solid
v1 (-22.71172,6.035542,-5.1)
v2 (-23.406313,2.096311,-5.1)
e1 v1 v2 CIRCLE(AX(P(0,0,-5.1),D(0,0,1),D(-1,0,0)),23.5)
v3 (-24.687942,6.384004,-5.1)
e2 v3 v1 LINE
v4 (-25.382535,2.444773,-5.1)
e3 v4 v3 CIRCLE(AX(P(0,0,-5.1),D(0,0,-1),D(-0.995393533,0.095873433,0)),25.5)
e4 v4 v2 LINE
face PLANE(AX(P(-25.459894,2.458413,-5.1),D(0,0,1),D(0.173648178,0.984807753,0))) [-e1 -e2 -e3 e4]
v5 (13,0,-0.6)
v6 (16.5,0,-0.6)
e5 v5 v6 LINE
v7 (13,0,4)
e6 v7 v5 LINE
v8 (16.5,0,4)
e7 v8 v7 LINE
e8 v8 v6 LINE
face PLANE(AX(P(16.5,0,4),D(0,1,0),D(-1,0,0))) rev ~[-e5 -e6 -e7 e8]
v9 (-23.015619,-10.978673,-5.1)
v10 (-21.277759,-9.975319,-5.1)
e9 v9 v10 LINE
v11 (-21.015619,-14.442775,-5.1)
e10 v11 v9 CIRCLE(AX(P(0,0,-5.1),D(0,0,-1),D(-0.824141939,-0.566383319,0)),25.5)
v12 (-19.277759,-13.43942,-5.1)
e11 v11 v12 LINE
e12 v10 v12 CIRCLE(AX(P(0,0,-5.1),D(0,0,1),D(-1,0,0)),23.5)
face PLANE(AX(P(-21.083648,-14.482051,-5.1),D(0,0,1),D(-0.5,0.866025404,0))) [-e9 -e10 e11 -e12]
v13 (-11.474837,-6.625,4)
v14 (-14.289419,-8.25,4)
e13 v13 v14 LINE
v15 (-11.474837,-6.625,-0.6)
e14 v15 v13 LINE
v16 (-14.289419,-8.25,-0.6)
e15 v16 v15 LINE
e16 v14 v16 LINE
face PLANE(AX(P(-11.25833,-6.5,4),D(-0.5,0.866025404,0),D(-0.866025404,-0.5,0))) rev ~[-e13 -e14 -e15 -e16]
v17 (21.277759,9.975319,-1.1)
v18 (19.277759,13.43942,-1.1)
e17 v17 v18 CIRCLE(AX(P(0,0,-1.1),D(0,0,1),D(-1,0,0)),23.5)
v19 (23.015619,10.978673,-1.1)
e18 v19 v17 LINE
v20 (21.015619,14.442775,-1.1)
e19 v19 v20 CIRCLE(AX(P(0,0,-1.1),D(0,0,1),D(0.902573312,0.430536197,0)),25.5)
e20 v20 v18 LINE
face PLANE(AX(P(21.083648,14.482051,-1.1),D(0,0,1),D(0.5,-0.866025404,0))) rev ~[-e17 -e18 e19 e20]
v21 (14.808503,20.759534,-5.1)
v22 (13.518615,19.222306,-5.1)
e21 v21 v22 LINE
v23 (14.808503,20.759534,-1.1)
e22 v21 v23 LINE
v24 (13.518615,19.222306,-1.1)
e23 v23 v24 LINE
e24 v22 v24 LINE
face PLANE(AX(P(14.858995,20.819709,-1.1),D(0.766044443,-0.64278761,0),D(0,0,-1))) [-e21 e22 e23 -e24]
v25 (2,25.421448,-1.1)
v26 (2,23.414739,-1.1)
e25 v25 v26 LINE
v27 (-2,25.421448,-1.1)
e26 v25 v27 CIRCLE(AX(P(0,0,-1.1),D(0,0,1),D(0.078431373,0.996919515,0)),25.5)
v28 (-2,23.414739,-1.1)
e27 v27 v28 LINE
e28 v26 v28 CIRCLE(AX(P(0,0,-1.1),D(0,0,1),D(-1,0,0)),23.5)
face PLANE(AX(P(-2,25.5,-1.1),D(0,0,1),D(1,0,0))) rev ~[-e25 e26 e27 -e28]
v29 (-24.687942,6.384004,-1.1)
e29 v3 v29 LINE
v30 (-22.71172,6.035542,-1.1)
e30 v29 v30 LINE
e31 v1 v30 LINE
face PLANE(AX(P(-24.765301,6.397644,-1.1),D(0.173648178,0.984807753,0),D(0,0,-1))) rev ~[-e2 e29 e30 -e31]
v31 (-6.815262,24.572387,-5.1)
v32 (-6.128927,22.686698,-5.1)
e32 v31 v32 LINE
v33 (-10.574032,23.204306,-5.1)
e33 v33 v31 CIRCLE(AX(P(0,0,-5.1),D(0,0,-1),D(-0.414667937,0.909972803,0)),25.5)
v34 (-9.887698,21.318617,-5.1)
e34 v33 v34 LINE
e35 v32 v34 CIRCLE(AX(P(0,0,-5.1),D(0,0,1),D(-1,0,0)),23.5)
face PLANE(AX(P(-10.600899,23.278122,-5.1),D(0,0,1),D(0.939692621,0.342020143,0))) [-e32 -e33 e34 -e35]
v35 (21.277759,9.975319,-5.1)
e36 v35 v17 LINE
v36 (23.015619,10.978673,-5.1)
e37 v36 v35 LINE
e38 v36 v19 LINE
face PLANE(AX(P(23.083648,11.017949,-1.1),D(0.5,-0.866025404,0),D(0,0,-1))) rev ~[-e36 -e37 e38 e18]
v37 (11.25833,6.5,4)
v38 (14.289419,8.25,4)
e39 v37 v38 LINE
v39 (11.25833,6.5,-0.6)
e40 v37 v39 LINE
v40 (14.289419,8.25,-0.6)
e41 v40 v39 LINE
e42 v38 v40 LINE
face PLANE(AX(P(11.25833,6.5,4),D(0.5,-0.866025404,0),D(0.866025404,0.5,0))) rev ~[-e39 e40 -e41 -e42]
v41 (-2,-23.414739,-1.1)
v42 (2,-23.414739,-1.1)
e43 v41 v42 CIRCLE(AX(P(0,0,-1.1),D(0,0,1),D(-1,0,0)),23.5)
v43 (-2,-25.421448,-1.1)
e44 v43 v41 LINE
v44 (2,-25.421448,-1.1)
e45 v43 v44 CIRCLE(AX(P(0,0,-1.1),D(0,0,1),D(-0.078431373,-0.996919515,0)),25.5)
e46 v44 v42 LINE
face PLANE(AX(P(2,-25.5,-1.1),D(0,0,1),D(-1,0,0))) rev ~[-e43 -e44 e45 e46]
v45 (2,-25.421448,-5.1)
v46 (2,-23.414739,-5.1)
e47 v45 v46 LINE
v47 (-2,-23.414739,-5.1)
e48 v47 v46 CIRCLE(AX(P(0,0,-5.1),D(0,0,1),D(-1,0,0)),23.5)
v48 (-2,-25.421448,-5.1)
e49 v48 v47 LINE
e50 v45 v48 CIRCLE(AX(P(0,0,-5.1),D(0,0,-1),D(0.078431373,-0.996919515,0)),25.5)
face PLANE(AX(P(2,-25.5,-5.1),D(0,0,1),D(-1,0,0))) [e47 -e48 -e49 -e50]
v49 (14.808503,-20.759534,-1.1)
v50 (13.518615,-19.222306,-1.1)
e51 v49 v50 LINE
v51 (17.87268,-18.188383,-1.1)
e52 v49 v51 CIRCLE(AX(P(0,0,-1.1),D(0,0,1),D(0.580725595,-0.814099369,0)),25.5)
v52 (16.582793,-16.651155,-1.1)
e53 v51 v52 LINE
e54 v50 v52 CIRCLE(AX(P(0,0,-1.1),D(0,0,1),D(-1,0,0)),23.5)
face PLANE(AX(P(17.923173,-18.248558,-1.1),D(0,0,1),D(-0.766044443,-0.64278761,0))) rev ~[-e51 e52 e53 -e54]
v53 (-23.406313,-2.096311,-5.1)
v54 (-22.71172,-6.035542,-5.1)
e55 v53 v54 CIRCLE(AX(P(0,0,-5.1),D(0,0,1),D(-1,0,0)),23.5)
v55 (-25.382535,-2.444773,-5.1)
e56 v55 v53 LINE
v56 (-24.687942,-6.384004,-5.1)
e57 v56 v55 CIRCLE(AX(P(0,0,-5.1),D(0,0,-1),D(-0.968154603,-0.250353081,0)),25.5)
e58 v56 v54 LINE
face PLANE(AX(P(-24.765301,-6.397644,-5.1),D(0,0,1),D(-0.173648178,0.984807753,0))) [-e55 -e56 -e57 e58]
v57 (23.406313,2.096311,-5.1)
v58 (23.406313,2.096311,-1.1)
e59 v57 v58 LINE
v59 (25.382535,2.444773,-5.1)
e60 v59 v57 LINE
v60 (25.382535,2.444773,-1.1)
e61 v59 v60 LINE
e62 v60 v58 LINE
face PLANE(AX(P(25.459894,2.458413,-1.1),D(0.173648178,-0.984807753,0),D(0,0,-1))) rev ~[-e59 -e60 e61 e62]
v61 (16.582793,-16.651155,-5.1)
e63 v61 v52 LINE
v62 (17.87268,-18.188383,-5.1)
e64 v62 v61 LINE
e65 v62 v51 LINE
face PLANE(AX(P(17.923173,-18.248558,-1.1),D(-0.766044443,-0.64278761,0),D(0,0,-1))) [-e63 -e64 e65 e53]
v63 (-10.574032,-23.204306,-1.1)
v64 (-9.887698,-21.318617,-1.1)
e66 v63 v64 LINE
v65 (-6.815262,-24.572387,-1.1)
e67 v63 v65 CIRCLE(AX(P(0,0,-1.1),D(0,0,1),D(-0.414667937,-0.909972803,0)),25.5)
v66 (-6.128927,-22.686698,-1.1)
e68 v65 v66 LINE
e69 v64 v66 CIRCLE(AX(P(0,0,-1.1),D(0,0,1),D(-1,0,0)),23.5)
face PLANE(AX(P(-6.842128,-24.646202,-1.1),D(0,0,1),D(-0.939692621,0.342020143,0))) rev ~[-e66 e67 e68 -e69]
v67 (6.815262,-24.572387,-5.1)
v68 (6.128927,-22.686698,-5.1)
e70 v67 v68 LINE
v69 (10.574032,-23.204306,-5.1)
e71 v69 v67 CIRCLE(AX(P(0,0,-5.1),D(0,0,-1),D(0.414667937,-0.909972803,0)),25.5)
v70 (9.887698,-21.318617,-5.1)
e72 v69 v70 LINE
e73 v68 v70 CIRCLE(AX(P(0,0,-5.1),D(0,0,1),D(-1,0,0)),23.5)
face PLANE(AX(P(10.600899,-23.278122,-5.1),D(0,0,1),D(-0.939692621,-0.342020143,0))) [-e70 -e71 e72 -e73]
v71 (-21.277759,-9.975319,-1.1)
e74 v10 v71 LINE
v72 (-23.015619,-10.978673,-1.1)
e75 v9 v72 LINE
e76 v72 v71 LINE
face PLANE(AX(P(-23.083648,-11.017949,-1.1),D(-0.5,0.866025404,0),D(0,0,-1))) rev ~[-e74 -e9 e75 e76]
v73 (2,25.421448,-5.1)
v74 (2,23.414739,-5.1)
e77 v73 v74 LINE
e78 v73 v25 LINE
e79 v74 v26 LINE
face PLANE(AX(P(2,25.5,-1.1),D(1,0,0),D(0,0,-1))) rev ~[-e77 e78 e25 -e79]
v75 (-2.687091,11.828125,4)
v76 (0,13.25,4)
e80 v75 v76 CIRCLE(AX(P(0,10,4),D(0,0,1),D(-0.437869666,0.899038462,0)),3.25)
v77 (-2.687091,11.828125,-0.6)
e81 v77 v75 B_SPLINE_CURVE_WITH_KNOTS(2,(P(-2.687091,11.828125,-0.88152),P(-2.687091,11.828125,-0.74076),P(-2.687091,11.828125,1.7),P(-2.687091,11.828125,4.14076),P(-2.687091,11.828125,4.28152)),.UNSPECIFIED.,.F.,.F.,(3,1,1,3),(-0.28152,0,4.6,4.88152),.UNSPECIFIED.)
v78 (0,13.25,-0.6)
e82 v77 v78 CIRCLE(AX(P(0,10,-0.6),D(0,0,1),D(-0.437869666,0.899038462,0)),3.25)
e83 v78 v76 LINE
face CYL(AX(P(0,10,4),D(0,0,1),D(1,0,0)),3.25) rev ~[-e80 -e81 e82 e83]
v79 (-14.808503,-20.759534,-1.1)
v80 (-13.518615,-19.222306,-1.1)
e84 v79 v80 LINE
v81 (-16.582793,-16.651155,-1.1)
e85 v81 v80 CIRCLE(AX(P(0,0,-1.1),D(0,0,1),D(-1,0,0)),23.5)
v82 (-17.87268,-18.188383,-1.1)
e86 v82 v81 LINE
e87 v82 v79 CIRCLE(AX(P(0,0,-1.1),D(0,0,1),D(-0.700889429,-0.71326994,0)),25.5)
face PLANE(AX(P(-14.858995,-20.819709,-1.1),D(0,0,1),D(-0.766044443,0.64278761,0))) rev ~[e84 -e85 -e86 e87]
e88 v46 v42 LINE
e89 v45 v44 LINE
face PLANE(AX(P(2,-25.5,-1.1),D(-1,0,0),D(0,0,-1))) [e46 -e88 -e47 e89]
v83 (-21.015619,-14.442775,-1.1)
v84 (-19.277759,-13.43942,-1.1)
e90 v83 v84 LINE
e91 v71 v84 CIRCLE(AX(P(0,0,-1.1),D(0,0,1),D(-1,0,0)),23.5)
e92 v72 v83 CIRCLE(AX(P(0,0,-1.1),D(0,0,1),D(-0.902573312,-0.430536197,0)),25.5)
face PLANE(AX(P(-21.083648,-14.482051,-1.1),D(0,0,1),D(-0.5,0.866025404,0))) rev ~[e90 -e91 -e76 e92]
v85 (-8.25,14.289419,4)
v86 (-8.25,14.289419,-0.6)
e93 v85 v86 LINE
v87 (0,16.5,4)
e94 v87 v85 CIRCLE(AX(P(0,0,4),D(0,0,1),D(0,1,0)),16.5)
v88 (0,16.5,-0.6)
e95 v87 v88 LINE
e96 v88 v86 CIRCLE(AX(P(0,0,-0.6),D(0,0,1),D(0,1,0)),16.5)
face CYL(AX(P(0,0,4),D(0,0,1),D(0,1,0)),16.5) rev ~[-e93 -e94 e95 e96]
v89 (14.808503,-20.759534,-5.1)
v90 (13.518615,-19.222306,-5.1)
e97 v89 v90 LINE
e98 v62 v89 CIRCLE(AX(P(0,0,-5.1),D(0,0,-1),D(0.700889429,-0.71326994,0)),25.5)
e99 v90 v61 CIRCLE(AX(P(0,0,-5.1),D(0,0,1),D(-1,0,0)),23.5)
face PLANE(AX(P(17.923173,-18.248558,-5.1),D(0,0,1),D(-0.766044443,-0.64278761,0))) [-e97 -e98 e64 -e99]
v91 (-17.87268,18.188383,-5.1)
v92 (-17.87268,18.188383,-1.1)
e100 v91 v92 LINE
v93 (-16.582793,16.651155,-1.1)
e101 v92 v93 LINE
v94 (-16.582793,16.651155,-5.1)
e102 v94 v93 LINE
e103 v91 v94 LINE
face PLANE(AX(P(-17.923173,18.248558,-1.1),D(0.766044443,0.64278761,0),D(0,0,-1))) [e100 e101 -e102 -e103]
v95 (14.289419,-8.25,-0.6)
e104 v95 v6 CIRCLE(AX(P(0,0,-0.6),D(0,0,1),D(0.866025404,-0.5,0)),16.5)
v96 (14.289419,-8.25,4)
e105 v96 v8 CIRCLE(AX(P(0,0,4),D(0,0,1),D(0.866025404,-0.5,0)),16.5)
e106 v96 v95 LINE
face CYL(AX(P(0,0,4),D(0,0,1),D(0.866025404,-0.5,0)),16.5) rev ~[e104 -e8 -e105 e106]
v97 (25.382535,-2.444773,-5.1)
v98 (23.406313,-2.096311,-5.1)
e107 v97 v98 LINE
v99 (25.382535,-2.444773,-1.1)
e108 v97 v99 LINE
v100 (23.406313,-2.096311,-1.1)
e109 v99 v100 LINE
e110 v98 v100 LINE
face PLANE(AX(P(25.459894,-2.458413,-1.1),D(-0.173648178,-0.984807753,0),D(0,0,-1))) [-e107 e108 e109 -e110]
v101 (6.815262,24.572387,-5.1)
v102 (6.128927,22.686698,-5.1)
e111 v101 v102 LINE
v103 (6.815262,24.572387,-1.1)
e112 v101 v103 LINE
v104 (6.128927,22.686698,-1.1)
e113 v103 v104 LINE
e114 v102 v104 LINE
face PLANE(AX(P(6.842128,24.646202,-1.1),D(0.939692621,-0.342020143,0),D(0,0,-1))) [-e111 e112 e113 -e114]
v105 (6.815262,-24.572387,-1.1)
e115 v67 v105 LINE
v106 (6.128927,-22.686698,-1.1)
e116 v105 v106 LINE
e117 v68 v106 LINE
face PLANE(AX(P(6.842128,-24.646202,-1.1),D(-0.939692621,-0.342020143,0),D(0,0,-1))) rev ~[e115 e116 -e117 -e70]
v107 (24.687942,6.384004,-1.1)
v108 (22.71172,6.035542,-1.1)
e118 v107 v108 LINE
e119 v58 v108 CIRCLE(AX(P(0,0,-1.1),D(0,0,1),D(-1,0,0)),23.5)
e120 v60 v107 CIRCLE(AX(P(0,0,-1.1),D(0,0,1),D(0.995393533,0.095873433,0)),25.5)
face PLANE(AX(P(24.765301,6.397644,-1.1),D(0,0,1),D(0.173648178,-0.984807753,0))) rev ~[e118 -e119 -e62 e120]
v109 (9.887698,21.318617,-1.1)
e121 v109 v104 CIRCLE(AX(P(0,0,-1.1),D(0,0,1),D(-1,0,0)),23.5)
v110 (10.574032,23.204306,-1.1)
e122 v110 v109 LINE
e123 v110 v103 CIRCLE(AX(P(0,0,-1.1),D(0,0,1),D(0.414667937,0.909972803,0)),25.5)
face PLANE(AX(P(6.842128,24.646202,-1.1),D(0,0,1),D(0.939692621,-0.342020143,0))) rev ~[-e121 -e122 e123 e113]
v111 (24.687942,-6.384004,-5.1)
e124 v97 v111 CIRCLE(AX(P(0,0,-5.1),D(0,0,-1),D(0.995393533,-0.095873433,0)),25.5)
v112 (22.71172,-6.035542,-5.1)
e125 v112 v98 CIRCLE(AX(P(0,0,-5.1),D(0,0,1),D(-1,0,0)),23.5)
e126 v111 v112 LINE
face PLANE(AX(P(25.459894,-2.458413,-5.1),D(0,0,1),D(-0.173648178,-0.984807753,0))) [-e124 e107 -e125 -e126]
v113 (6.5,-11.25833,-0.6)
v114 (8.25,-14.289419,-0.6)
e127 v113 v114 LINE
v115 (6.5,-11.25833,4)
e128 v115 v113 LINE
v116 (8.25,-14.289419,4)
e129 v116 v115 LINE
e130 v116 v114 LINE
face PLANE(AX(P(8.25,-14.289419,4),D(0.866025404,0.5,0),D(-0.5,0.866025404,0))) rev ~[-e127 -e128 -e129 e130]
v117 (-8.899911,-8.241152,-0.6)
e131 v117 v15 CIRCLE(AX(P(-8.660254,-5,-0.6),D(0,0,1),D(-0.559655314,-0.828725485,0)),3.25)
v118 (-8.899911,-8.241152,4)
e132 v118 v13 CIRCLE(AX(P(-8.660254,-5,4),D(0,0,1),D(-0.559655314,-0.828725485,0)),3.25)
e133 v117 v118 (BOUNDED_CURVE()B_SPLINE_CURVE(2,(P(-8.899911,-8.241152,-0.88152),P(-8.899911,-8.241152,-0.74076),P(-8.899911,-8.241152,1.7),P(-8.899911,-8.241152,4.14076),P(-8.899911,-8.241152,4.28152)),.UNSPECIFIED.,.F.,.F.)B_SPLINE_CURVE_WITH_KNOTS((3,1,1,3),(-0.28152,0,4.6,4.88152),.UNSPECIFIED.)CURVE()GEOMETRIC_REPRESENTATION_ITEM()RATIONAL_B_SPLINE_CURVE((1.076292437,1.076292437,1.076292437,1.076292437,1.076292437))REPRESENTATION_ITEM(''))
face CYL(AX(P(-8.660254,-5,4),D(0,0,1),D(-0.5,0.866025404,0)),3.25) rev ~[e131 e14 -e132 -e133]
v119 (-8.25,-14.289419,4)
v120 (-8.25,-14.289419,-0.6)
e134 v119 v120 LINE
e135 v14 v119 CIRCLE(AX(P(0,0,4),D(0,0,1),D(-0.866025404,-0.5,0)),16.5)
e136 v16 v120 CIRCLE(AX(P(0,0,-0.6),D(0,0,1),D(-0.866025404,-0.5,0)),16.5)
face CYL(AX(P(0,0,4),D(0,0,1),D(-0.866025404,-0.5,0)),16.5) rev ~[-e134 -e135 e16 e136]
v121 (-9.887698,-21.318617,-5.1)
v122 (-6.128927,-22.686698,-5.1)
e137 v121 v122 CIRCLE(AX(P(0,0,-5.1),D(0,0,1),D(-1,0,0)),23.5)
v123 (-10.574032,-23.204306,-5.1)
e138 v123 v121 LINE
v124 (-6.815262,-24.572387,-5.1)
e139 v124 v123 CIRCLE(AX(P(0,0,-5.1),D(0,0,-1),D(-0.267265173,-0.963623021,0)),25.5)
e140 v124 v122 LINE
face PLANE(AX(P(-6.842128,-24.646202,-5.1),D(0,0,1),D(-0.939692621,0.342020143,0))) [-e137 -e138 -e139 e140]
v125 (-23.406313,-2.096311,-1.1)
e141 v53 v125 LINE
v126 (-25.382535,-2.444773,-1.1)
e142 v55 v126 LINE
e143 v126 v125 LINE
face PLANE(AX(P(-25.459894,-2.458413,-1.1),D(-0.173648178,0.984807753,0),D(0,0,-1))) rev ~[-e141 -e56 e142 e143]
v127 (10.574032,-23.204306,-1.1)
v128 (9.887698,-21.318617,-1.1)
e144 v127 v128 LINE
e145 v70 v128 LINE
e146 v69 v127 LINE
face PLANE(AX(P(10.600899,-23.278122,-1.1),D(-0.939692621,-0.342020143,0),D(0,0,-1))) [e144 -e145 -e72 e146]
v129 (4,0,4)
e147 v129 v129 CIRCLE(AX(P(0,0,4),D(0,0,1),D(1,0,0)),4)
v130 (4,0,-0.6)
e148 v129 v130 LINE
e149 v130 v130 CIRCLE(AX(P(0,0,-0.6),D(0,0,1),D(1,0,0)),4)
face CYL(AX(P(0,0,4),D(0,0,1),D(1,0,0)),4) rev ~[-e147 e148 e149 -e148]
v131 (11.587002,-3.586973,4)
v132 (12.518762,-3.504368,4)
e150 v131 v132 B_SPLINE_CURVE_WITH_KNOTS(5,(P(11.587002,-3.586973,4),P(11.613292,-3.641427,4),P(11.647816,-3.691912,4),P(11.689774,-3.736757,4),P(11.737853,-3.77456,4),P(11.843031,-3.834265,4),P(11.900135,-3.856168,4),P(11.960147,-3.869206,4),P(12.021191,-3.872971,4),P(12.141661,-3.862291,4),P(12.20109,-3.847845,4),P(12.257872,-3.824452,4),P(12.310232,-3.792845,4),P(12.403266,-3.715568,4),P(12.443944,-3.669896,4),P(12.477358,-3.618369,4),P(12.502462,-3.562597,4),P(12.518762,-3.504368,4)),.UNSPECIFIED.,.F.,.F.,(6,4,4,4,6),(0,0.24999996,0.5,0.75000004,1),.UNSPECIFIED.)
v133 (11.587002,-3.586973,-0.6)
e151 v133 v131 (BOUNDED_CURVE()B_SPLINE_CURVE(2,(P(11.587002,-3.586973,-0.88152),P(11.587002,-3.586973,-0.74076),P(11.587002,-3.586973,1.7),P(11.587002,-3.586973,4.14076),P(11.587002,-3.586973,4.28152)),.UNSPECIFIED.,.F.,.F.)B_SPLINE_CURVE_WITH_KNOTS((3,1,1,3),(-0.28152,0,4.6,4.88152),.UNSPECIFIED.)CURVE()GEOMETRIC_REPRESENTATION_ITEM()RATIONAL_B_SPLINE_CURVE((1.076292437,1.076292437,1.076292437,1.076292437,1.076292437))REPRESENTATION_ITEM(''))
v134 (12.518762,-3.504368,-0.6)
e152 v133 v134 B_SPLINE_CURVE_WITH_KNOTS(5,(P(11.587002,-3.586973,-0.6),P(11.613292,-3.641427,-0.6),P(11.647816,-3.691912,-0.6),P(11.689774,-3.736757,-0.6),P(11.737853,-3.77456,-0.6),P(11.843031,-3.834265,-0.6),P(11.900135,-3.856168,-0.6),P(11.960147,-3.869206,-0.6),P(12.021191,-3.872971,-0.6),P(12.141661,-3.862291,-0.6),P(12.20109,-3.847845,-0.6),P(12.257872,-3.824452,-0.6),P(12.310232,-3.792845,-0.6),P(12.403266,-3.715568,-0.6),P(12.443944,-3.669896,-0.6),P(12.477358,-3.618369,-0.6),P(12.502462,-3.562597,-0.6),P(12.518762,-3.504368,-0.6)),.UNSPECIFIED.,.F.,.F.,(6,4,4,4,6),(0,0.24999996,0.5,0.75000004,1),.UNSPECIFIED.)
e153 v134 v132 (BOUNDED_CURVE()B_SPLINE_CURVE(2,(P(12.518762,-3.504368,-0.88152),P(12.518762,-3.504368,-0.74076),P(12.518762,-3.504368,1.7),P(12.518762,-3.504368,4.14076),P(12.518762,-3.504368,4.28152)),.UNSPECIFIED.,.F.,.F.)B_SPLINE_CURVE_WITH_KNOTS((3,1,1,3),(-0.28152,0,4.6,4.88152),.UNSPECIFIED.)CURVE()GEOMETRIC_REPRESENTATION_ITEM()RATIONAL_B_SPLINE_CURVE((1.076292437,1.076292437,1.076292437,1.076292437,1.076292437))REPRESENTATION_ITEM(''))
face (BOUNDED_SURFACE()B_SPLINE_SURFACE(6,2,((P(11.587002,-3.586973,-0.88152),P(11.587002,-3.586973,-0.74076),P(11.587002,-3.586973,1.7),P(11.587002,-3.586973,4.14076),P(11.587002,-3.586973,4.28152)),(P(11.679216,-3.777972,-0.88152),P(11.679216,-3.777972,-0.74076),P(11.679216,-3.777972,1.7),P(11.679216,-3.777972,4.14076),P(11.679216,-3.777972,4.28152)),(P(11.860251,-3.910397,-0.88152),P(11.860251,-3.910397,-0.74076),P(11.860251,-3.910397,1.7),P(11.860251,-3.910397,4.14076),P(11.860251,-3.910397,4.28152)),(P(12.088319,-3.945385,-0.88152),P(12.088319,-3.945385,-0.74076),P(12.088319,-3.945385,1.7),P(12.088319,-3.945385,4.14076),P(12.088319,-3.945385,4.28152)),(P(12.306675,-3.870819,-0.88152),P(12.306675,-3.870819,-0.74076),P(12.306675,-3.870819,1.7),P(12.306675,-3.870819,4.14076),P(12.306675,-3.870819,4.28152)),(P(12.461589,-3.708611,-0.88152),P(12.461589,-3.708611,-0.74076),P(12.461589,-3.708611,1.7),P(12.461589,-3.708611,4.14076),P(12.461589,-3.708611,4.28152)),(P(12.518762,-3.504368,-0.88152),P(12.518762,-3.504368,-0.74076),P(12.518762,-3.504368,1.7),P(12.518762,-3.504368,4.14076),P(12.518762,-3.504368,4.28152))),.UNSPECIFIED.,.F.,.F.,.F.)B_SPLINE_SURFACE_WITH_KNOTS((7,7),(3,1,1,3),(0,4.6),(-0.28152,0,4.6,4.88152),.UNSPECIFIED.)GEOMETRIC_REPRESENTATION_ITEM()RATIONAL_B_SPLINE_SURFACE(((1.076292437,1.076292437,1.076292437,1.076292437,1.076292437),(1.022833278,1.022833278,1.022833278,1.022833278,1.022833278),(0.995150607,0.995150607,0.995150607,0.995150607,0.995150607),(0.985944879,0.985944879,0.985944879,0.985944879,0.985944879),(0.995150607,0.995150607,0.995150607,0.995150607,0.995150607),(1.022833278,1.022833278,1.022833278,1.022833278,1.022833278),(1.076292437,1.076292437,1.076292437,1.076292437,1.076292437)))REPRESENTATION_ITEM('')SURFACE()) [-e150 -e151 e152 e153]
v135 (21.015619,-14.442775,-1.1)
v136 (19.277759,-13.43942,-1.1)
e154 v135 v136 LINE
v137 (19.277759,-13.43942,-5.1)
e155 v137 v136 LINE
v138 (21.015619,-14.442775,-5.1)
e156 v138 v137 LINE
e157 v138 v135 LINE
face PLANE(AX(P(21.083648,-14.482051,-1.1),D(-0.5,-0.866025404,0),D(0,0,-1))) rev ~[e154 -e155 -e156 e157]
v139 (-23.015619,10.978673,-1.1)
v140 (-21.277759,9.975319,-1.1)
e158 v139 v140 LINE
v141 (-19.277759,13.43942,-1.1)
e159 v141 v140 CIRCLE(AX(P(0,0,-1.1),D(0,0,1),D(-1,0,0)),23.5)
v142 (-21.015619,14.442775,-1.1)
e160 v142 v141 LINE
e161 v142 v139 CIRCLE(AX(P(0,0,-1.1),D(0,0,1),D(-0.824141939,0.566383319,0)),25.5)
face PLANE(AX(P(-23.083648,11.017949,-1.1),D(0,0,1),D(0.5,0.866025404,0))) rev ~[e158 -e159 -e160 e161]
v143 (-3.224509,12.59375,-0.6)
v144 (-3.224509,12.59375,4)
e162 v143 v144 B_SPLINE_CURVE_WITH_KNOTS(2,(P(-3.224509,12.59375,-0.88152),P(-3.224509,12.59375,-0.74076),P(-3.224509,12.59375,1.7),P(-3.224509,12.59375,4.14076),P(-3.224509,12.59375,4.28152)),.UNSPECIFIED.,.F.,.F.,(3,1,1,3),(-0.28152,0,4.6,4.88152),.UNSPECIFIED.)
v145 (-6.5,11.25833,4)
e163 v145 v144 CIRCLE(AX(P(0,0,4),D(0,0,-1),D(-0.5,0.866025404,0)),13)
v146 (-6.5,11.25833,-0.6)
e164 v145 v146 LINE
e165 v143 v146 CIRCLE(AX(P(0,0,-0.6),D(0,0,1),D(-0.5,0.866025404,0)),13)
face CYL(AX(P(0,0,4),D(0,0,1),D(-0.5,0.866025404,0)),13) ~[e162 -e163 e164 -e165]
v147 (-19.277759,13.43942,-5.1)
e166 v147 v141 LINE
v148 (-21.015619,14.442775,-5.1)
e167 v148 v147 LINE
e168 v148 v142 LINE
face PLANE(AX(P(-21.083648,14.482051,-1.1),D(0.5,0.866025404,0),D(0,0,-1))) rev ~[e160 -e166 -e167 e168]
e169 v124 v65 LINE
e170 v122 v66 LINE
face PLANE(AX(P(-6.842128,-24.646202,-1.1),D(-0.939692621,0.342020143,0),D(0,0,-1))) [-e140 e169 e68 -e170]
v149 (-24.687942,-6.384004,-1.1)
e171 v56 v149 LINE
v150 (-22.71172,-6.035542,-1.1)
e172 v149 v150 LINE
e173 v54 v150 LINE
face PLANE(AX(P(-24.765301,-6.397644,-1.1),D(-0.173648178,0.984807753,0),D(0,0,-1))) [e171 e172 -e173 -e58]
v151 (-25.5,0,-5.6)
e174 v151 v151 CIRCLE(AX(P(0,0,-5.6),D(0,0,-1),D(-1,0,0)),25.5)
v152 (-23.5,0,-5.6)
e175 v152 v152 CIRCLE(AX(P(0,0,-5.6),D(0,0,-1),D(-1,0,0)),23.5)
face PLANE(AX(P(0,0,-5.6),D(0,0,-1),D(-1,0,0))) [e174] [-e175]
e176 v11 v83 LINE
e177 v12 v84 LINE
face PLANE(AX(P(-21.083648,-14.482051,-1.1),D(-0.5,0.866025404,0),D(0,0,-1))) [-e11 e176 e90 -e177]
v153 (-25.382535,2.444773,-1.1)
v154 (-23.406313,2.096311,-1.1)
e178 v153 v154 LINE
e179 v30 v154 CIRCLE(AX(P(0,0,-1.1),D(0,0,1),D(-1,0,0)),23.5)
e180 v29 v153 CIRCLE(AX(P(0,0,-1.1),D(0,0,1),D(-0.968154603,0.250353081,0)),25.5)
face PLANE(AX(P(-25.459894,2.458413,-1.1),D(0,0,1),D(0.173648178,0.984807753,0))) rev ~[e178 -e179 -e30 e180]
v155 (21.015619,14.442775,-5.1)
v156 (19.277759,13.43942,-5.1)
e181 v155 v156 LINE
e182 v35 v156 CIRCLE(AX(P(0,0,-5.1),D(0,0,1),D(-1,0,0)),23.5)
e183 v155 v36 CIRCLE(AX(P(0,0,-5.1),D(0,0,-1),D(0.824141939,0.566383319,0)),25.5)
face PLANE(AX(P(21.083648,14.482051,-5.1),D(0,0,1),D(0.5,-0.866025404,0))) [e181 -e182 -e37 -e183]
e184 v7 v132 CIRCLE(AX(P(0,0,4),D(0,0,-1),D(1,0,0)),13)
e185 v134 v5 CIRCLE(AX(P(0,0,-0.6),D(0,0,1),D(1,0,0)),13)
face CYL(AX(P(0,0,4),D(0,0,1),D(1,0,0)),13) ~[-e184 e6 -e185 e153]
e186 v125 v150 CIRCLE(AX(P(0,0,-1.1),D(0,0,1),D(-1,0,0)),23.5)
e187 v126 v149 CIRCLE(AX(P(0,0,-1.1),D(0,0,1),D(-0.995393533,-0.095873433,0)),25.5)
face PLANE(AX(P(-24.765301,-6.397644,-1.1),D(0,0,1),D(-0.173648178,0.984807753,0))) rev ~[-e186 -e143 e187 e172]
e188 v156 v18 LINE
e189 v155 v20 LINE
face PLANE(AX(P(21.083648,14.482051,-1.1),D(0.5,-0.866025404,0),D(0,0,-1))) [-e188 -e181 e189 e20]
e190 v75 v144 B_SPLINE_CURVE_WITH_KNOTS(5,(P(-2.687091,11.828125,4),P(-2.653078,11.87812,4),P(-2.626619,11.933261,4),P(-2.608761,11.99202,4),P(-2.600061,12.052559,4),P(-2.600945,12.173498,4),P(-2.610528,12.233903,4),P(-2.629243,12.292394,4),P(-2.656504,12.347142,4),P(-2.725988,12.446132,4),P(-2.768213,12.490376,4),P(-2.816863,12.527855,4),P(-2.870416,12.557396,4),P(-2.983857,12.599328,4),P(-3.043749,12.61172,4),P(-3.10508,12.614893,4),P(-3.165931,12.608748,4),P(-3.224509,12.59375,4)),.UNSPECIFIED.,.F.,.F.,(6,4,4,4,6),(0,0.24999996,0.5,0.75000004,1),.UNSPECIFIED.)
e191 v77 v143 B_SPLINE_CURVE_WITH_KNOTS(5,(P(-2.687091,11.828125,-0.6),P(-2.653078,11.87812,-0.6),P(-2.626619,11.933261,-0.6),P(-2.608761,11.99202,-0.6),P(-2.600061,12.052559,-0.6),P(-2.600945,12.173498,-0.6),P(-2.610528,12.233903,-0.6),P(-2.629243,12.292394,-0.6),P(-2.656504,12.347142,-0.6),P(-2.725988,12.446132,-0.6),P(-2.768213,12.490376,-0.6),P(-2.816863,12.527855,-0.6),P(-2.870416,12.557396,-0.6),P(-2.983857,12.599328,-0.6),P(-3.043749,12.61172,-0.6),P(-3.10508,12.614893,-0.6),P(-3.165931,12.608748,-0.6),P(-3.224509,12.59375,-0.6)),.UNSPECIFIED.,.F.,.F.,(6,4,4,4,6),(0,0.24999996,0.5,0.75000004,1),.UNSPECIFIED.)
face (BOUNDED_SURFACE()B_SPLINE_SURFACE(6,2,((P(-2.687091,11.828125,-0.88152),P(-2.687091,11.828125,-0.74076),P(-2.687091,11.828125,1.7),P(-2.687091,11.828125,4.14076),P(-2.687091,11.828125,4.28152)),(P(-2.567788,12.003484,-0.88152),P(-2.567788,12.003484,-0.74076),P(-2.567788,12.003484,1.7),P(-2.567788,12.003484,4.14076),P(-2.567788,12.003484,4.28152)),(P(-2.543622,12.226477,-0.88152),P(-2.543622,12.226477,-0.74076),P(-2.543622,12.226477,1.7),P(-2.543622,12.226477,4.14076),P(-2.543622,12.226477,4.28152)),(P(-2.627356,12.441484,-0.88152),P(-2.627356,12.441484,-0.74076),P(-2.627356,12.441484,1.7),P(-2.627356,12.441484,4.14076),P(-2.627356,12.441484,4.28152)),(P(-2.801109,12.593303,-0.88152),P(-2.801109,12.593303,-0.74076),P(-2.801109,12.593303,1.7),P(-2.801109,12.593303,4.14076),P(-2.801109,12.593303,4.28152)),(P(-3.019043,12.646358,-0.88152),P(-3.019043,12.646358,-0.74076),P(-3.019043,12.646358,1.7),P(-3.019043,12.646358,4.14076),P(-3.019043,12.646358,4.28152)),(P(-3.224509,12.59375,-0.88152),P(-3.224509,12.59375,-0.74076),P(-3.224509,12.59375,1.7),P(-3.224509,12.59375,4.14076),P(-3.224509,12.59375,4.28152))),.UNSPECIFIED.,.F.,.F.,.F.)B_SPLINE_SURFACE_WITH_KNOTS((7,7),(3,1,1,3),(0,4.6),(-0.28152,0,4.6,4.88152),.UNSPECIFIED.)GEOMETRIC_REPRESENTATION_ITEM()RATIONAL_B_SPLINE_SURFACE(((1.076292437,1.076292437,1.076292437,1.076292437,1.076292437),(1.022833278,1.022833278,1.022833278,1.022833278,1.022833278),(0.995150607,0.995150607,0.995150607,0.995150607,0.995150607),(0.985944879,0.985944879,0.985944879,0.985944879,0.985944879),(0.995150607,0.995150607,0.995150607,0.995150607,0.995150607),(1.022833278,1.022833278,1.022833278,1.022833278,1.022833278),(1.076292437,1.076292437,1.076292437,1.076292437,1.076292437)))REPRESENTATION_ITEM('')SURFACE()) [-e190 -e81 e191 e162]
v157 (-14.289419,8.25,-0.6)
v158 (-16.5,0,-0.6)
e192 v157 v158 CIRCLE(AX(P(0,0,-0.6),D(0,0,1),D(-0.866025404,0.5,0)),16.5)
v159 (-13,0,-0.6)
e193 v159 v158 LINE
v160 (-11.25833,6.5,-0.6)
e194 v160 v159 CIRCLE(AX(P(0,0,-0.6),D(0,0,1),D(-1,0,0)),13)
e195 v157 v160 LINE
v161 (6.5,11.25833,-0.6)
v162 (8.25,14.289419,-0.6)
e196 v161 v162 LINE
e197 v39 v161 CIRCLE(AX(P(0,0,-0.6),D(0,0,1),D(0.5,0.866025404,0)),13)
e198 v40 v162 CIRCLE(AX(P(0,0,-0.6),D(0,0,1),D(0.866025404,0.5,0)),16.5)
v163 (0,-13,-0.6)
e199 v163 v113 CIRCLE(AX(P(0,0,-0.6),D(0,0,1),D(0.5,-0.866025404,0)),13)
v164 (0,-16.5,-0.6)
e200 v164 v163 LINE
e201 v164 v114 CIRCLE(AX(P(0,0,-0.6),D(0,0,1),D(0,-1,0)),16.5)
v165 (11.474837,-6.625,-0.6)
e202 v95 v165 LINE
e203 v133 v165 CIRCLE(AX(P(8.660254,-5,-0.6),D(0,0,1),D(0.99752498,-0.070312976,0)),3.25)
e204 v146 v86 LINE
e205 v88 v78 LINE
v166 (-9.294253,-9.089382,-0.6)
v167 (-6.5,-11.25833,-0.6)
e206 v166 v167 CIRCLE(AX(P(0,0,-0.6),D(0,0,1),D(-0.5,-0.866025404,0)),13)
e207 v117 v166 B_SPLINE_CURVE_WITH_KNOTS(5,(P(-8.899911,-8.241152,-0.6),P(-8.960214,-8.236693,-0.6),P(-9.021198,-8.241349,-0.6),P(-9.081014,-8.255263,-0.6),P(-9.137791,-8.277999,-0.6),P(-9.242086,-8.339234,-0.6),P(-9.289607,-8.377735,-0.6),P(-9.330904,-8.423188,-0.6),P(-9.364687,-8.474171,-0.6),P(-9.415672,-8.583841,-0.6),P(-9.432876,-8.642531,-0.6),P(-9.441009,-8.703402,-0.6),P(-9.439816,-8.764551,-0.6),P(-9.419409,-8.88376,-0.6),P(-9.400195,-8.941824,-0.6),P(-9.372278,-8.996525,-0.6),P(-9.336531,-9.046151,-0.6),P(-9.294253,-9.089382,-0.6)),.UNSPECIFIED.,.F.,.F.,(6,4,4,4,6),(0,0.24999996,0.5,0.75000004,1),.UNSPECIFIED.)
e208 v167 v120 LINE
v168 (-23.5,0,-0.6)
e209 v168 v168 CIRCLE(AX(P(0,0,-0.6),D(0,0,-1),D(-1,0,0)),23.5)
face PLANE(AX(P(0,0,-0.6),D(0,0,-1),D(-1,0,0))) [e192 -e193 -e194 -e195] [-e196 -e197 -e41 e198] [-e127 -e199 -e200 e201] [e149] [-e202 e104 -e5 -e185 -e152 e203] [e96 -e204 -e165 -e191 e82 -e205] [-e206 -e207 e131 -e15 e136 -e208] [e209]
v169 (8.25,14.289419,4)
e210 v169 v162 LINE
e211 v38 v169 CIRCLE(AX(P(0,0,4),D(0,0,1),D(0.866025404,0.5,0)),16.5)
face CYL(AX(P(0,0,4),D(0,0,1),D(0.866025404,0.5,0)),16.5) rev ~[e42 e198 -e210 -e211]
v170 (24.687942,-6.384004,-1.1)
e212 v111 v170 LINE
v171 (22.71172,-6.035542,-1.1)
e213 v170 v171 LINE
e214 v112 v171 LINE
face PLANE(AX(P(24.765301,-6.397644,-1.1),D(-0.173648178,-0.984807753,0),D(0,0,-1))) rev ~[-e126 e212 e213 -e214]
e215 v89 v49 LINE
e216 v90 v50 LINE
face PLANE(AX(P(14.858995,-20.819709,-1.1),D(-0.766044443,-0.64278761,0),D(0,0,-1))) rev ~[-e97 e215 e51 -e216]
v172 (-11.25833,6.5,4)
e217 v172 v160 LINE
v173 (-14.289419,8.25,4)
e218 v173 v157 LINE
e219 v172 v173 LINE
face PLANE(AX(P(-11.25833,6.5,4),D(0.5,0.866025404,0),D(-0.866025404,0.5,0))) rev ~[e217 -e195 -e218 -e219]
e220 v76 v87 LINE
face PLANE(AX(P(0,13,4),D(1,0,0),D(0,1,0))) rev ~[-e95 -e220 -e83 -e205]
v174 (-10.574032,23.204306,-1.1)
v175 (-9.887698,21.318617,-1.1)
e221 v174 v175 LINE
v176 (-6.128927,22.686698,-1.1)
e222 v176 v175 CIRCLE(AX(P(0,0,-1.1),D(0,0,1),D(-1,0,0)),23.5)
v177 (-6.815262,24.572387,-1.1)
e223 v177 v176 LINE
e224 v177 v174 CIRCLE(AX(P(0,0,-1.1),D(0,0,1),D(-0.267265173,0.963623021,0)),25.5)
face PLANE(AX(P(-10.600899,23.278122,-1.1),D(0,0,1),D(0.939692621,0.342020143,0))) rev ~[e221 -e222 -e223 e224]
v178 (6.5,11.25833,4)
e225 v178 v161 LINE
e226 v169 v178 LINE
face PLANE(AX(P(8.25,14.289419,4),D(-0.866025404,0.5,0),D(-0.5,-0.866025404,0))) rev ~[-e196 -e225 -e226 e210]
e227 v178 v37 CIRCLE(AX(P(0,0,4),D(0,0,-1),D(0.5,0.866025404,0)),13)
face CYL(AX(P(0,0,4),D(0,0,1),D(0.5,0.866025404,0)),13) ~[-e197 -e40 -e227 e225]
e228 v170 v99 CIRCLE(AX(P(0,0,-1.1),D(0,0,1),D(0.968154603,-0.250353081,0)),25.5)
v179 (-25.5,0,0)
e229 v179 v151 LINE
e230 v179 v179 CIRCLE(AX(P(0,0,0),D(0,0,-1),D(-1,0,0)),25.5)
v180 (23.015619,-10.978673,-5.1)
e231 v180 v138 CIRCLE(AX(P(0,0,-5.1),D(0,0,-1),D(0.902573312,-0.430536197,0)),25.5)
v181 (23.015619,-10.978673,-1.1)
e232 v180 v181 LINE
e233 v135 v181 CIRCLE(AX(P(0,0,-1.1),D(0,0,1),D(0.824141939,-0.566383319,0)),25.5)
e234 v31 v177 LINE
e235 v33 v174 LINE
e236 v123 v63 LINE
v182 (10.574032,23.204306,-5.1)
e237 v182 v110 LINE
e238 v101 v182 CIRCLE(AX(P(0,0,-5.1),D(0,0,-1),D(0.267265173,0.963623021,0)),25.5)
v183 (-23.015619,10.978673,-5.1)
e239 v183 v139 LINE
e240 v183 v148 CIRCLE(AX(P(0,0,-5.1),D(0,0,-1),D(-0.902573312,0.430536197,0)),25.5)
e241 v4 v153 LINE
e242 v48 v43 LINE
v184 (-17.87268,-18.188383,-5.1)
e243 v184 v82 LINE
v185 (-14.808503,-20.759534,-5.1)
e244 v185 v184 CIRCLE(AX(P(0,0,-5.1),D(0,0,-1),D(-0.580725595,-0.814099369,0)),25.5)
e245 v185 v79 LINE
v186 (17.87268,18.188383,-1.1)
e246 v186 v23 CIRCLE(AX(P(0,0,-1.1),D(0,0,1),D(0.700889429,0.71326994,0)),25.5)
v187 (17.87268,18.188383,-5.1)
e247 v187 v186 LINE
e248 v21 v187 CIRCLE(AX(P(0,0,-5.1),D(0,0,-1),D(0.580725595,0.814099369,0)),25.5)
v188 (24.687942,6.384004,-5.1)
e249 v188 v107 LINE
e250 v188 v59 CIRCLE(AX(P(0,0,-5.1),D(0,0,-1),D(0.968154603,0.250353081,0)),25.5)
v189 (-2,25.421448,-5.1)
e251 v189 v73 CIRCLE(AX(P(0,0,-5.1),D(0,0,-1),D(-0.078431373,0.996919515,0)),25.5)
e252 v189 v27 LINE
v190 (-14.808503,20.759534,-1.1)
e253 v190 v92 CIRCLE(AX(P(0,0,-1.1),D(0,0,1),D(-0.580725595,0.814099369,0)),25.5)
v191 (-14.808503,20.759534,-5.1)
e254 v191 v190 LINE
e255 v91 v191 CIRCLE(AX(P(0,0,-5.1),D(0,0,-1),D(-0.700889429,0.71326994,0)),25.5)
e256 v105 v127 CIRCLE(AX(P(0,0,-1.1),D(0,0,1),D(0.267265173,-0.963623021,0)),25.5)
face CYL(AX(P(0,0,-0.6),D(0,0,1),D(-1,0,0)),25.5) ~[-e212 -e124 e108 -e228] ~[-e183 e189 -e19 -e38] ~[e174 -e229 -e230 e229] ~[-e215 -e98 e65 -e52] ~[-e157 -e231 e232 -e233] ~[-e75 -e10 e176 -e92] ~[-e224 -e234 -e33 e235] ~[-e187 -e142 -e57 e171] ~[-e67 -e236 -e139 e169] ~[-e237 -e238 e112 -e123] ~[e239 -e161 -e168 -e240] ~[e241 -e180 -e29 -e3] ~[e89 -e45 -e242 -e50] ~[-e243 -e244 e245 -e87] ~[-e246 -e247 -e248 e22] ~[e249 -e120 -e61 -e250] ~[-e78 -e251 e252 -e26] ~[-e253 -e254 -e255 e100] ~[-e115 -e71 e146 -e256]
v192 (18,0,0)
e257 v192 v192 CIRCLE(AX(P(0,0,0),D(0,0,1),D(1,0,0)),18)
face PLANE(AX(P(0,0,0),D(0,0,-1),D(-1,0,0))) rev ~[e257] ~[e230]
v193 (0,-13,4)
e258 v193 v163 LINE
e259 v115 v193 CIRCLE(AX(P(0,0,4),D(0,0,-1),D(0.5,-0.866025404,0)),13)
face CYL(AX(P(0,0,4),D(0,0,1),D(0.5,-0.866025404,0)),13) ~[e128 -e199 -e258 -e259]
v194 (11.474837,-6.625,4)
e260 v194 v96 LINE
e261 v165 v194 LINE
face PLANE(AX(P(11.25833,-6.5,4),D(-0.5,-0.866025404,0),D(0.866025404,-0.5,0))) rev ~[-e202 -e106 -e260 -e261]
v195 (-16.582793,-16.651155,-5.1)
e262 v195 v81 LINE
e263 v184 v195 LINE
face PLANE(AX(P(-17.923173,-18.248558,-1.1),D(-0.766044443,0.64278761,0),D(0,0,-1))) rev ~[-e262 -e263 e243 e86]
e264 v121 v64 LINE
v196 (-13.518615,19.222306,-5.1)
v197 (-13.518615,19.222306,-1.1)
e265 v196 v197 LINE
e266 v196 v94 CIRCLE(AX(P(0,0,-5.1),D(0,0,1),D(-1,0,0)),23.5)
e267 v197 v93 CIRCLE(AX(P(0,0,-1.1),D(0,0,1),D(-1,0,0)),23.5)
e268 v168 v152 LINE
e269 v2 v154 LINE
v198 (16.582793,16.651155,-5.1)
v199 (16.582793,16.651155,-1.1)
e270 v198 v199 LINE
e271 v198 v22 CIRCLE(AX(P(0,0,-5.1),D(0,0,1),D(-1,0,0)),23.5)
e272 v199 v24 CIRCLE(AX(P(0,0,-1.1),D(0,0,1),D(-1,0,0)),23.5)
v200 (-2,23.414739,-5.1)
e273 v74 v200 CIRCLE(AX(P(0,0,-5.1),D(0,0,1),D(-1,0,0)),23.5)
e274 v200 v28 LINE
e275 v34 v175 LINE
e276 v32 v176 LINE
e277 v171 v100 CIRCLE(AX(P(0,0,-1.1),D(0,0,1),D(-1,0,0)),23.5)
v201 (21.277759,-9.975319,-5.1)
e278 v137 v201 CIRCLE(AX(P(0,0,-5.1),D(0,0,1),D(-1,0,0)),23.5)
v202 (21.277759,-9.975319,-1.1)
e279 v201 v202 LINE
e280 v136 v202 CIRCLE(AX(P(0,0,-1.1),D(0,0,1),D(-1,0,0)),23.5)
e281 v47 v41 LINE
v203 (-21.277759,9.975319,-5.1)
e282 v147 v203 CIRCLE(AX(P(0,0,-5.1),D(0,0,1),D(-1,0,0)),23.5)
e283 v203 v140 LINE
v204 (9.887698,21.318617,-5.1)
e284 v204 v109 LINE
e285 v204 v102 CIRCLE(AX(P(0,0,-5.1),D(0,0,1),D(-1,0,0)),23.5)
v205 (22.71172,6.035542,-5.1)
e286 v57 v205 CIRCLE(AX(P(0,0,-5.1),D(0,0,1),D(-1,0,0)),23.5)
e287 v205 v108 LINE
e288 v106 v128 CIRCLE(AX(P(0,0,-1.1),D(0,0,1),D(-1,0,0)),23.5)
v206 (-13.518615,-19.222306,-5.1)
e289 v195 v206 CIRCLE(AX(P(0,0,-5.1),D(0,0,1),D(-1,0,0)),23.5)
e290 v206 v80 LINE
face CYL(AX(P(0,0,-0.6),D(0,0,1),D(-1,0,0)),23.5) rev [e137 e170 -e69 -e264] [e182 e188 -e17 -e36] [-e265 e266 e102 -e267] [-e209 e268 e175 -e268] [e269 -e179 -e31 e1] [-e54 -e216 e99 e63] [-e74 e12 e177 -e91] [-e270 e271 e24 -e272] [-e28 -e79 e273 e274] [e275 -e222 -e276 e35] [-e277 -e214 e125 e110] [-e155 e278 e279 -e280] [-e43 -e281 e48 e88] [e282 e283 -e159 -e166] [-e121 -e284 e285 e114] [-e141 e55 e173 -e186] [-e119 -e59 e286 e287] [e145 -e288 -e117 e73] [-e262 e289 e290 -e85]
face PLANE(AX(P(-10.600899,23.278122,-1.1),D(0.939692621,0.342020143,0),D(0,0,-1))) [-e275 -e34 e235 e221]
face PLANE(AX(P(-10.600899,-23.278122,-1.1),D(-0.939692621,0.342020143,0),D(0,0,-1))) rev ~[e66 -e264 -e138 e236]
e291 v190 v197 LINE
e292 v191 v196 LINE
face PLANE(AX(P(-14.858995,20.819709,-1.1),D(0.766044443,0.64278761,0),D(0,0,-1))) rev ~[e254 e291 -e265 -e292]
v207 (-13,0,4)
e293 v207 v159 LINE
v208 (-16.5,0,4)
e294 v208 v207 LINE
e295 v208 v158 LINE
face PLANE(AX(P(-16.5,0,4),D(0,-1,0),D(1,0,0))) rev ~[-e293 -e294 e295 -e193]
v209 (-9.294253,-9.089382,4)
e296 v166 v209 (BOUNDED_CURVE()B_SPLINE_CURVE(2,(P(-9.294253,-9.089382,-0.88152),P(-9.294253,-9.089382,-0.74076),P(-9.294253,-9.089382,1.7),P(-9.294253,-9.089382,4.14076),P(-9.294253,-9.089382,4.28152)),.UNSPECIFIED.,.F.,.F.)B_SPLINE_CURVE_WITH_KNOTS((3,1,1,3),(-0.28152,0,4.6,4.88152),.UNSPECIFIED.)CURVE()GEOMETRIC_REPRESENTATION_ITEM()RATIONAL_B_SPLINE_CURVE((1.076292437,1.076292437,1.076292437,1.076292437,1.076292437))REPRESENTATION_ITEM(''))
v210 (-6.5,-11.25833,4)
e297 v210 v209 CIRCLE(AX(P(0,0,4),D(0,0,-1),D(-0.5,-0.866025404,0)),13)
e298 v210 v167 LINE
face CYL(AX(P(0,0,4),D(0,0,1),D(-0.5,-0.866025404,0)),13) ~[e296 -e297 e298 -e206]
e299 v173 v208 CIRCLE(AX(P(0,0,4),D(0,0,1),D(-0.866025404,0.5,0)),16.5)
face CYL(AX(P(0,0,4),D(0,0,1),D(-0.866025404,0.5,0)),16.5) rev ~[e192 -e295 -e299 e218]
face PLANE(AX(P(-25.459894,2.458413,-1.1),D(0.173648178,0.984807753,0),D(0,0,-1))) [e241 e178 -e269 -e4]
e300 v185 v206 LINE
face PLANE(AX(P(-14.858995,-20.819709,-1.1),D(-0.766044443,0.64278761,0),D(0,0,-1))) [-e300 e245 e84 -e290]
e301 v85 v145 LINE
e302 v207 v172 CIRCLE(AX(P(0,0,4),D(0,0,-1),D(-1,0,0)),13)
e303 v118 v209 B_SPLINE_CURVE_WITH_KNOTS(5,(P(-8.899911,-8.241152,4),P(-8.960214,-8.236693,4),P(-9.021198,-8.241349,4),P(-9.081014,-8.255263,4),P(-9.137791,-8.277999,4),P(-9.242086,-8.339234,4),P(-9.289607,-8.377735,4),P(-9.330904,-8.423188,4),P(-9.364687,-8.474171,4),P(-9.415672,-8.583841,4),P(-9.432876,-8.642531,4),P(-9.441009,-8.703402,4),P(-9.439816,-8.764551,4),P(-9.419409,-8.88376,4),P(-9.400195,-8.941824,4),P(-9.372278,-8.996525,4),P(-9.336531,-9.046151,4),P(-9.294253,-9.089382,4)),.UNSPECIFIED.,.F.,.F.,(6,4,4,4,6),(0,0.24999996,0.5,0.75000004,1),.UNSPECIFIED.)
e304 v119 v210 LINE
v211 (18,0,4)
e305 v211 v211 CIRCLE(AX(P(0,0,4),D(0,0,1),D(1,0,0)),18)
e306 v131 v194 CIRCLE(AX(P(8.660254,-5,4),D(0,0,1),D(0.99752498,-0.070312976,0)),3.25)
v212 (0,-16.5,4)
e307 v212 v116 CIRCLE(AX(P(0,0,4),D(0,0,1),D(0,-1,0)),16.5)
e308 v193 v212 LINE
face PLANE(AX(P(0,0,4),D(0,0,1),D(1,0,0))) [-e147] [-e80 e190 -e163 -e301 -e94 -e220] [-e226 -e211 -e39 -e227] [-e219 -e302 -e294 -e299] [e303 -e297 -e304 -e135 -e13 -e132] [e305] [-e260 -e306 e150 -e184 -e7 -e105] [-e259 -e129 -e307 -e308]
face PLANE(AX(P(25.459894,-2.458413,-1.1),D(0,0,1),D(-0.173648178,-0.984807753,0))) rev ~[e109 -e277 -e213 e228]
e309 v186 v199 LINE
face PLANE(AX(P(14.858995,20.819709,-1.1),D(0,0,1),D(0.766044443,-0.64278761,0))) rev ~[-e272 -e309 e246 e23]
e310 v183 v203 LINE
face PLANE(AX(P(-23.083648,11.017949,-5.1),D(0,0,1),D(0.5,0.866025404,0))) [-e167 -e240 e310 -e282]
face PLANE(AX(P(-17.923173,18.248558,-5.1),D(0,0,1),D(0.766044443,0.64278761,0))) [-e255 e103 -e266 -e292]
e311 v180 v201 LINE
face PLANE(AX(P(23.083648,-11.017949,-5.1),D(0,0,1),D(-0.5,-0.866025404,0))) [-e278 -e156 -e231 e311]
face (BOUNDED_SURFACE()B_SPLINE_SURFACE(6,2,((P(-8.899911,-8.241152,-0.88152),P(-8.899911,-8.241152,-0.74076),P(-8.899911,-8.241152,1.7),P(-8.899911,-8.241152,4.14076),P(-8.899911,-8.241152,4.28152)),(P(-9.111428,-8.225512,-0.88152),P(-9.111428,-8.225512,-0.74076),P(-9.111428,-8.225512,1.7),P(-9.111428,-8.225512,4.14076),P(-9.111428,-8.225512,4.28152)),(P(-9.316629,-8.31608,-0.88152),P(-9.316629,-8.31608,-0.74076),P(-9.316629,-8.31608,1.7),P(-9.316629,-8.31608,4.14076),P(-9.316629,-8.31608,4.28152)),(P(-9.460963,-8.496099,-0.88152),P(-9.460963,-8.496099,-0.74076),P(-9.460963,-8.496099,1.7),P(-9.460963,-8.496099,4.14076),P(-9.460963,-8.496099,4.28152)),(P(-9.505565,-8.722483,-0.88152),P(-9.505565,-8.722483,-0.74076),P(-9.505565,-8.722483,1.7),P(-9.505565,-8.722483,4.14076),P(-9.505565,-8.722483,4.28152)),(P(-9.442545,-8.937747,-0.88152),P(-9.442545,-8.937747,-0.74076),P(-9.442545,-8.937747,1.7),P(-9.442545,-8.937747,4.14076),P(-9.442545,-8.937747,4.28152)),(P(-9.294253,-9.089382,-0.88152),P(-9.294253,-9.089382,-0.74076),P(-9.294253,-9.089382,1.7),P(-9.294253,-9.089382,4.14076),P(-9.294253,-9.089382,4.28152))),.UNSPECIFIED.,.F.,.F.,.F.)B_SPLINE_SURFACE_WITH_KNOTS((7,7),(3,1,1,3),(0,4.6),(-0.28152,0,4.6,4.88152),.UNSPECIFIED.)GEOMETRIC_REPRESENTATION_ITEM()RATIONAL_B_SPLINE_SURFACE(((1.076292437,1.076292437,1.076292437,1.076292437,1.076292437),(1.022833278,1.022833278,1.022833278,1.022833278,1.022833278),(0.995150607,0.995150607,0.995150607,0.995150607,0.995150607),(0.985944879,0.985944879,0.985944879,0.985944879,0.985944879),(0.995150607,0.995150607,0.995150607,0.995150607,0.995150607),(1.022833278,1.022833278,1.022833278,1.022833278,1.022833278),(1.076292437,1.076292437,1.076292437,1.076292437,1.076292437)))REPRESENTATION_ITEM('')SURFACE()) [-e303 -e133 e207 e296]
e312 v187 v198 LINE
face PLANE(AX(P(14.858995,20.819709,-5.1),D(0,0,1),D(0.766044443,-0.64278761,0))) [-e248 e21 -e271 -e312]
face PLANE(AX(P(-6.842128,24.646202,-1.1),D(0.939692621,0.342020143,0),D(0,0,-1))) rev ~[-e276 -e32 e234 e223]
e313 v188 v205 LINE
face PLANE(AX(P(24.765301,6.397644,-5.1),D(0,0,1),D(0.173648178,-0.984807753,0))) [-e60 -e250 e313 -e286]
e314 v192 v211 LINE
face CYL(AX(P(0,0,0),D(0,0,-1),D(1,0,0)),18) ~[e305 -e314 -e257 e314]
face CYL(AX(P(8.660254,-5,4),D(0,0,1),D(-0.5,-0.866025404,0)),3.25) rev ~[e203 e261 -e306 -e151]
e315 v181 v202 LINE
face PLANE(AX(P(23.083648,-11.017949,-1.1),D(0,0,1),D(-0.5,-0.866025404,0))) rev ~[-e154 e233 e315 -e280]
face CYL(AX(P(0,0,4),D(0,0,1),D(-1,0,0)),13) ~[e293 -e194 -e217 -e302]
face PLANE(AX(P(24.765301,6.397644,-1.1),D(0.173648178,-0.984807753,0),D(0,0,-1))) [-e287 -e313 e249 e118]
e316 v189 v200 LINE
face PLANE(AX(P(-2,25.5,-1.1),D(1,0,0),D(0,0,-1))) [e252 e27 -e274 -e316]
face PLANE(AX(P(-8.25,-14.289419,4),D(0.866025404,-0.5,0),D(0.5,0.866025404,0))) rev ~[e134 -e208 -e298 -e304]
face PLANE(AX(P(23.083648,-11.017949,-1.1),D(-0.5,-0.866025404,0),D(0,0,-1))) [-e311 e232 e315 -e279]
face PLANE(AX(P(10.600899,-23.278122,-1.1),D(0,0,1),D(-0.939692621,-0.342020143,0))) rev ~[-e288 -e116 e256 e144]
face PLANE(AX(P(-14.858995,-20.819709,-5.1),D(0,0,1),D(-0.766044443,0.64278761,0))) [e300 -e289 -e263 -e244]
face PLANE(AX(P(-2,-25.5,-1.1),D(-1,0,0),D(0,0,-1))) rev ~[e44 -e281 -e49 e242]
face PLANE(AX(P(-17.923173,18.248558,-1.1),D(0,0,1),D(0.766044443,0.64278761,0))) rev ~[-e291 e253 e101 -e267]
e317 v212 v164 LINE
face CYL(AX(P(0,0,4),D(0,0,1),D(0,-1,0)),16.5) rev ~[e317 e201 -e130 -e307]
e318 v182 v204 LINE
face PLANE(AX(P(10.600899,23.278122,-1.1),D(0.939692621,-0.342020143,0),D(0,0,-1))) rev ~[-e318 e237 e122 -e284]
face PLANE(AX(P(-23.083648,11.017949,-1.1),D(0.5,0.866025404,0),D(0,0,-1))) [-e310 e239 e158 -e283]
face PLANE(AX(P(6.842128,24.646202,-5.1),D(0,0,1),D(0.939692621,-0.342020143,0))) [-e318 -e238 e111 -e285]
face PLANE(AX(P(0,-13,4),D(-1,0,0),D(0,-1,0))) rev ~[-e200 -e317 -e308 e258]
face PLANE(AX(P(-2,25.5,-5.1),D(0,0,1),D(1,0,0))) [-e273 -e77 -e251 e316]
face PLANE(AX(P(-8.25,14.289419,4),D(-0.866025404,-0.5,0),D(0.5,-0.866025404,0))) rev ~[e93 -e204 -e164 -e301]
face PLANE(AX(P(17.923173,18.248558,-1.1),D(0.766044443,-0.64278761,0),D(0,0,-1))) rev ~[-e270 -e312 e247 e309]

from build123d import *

# Parameters (mm, degrees)
ESQUISSE1_R                  = 18
BOSS_EXTRU_1_DEPTH           = 4
ESQUISSE5_R                  = 25.5
BOSS_EXTRU_2_DEPTH           = 0.6
ENL_V_MAT_EXTRU_1_DEPTH      = 37.354642069
ESQUISSE4_R                  = 4
ENL_V_MAT_EXTRU_3_DEPTH      = 37.354642069
R_P_TITION_CIRCULAIRE1_COUNT = 6
ESQUISSE3_R                  = 3.25
ENL_V_MAT_EXTRU_2_DEPTH      = 37.354642069
R_P_TITION_CIRCULAIRE2_COUNT = 3
CONG_1_R                     = 0.5
ESQUISSE6_R                  = 25.5
ESQUISSE6_R_2                = 23.5
BOSS_EXTRU_3_DEPTH           = 5
ESQUISSE7_W                  = 4
ESQUISSE7_H                  = 4
ENL_V_MAT_EXTRU_4_DEPTH      = 4
R_P_TITION_CIRCULAIRE3_COUNT = 18


with BuildPart() as part:
    # Esquisse1 → Boss.-Extru.1 (new body)
    with BuildSketch(Plane.XY):
        Circle(ESQUISSE1_R)
    extrude(amount=BOSS_EXTRU_1_DEPTH)

    # Esquisse5 → Boss.-Extru.2 (add)
    with BuildSketch(Plane(origin=(0, 0, 0), x_dir=(-1, 0, 0), z_dir=(0, 0, -1))):
        Circle(ESQUISSE5_R)
    extrude(amount=BOSS_EXTRU_2_DEPTH)

    # Esquisse2 → Enlèv. mat.-Extru.1 (cut, through all)
    with BuildSketch(Plane.XY.offset(4)):
        with BuildLine():
            Line((0, 13), (0, 16.5))
            ThreePointArc((0, 16.5), (-4.270514244, 15.937776134), (-8.25, 14.289419162))
            Line((-8.25, 14.289419162), (-6.5, 11.258330249))
            ThreePointArc((-6.5, 11.258330249), (-3.364647586, 12.557035742), (0, 13))
        make_face()
    enl_v_mat_extru_1 = extrude(amount=-ENL_V_MAT_EXTRU_1_DEPTH, mode=Mode.SUBTRACT)

    # Esquisse4 → Enlèv. mat.-Extru.3 (cut, through all)
    with BuildSketch(Plane.XY.offset(4)):
        Circle(ESQUISSE4_R)
    extrude(amount=-ENL_V_MAT_EXTRU_3_DEPTH, mode=Mode.SUBTRACT)

    # Répétition circulaire1: Enlèv. mat.-Extru.1 ×6 about axis
    r_p_tition_circulaire1_axis = Axis((0, 0, 4), (0, 0, 1))
    for i in range(1, R_P_TITION_CIRCULAIRE1_COUNT):
        add(enl_v_mat_extru_1.rotate(r_p_tition_circulaire1_axis, i * 360 / R_P_TITION_CIRCULAIRE1_COUNT), mode=Mode.SUBTRACT)

    # Esquisse3 → Enlèv. mat.-Extru.2 (cut, through all)
    with BuildSketch(Plane.XY.offset(4)):
        with Locations((0, 10)):
            Circle(ESQUISSE3_R)
    enl_v_mat_extru_2 = extrude(amount=-ENL_V_MAT_EXTRU_2_DEPTH, mode=Mode.SUBTRACT)

    # Répétition circulaire2: Enlèv. mat.-Extru.2 ×3 about axis
    r_p_tition_circulaire2_axis = Axis((0, 0, 4), (0, 0, 1))
    for i in range(1, R_P_TITION_CIRCULAIRE2_COUNT):
        add(enl_v_mat_extru_2.rotate(r_p_tition_circulaire2_axis, i * 360 / R_P_TITION_CIRCULAIRE2_COUNT), mode=Mode.SUBTRACT)

    # Congé1
    cong_1_edges = [part.edges().sort_by_distance(p)[0] for p in [
        (11.902210222, -5.228517173, 1.7),
        (-10.479133807, -7.693357827, 1.7),
        (-1.423076416, 12.921875, 1.7),
    ]]
    fillet(cong_1_edges, radius=CONG_1_R)

    # Esquisse6 → Boss.-Extru.3 (add)
    with BuildSketch(Plane(origin=(0, 0, -0.6), x_dir=(-1, 0, 0), z_dir=(0, 0, -1))):
        Circle(ESQUISSE6_R)
        Circle(ESQUISSE6_R_2, mode=Mode.SUBTRACT)
    extrude(amount=BOSS_EXTRU_3_DEPTH)

    # Esquisse7 → Enlèv. mat.-Extru.4 (cut)
    with BuildSketch(Plane(origin=(0, 25.5, 0), x_dir=(1, 0, 0), z_dir=(0, 1, 0))):
        with Locations((0, 3.1)):
            Rectangle(ESQUISSE7_W, ESQUISSE7_H)
    enl_v_mat_extru_4 = extrude(amount=-ENL_V_MAT_EXTRU_4_DEPTH, mode=Mode.SUBTRACT)

    # Répétition circulaire3: Enlèv. mat.-Extru.4 ×18 about axis
    r_p_tition_circulaire3_axis = Axis((0, 0, -0.6), (0, 0, 1))
    for i in range(1, R_P_TITION_CIRCULAIRE3_COUNT):
        add(enl_v_mat_extru_4.rotate(r_p_tition_circulaire3_axis, i * 360 / R_P_TITION_CIRCULAIRE3_COUNT), mode=Mode.SUBTRACT)


solid = part.part
